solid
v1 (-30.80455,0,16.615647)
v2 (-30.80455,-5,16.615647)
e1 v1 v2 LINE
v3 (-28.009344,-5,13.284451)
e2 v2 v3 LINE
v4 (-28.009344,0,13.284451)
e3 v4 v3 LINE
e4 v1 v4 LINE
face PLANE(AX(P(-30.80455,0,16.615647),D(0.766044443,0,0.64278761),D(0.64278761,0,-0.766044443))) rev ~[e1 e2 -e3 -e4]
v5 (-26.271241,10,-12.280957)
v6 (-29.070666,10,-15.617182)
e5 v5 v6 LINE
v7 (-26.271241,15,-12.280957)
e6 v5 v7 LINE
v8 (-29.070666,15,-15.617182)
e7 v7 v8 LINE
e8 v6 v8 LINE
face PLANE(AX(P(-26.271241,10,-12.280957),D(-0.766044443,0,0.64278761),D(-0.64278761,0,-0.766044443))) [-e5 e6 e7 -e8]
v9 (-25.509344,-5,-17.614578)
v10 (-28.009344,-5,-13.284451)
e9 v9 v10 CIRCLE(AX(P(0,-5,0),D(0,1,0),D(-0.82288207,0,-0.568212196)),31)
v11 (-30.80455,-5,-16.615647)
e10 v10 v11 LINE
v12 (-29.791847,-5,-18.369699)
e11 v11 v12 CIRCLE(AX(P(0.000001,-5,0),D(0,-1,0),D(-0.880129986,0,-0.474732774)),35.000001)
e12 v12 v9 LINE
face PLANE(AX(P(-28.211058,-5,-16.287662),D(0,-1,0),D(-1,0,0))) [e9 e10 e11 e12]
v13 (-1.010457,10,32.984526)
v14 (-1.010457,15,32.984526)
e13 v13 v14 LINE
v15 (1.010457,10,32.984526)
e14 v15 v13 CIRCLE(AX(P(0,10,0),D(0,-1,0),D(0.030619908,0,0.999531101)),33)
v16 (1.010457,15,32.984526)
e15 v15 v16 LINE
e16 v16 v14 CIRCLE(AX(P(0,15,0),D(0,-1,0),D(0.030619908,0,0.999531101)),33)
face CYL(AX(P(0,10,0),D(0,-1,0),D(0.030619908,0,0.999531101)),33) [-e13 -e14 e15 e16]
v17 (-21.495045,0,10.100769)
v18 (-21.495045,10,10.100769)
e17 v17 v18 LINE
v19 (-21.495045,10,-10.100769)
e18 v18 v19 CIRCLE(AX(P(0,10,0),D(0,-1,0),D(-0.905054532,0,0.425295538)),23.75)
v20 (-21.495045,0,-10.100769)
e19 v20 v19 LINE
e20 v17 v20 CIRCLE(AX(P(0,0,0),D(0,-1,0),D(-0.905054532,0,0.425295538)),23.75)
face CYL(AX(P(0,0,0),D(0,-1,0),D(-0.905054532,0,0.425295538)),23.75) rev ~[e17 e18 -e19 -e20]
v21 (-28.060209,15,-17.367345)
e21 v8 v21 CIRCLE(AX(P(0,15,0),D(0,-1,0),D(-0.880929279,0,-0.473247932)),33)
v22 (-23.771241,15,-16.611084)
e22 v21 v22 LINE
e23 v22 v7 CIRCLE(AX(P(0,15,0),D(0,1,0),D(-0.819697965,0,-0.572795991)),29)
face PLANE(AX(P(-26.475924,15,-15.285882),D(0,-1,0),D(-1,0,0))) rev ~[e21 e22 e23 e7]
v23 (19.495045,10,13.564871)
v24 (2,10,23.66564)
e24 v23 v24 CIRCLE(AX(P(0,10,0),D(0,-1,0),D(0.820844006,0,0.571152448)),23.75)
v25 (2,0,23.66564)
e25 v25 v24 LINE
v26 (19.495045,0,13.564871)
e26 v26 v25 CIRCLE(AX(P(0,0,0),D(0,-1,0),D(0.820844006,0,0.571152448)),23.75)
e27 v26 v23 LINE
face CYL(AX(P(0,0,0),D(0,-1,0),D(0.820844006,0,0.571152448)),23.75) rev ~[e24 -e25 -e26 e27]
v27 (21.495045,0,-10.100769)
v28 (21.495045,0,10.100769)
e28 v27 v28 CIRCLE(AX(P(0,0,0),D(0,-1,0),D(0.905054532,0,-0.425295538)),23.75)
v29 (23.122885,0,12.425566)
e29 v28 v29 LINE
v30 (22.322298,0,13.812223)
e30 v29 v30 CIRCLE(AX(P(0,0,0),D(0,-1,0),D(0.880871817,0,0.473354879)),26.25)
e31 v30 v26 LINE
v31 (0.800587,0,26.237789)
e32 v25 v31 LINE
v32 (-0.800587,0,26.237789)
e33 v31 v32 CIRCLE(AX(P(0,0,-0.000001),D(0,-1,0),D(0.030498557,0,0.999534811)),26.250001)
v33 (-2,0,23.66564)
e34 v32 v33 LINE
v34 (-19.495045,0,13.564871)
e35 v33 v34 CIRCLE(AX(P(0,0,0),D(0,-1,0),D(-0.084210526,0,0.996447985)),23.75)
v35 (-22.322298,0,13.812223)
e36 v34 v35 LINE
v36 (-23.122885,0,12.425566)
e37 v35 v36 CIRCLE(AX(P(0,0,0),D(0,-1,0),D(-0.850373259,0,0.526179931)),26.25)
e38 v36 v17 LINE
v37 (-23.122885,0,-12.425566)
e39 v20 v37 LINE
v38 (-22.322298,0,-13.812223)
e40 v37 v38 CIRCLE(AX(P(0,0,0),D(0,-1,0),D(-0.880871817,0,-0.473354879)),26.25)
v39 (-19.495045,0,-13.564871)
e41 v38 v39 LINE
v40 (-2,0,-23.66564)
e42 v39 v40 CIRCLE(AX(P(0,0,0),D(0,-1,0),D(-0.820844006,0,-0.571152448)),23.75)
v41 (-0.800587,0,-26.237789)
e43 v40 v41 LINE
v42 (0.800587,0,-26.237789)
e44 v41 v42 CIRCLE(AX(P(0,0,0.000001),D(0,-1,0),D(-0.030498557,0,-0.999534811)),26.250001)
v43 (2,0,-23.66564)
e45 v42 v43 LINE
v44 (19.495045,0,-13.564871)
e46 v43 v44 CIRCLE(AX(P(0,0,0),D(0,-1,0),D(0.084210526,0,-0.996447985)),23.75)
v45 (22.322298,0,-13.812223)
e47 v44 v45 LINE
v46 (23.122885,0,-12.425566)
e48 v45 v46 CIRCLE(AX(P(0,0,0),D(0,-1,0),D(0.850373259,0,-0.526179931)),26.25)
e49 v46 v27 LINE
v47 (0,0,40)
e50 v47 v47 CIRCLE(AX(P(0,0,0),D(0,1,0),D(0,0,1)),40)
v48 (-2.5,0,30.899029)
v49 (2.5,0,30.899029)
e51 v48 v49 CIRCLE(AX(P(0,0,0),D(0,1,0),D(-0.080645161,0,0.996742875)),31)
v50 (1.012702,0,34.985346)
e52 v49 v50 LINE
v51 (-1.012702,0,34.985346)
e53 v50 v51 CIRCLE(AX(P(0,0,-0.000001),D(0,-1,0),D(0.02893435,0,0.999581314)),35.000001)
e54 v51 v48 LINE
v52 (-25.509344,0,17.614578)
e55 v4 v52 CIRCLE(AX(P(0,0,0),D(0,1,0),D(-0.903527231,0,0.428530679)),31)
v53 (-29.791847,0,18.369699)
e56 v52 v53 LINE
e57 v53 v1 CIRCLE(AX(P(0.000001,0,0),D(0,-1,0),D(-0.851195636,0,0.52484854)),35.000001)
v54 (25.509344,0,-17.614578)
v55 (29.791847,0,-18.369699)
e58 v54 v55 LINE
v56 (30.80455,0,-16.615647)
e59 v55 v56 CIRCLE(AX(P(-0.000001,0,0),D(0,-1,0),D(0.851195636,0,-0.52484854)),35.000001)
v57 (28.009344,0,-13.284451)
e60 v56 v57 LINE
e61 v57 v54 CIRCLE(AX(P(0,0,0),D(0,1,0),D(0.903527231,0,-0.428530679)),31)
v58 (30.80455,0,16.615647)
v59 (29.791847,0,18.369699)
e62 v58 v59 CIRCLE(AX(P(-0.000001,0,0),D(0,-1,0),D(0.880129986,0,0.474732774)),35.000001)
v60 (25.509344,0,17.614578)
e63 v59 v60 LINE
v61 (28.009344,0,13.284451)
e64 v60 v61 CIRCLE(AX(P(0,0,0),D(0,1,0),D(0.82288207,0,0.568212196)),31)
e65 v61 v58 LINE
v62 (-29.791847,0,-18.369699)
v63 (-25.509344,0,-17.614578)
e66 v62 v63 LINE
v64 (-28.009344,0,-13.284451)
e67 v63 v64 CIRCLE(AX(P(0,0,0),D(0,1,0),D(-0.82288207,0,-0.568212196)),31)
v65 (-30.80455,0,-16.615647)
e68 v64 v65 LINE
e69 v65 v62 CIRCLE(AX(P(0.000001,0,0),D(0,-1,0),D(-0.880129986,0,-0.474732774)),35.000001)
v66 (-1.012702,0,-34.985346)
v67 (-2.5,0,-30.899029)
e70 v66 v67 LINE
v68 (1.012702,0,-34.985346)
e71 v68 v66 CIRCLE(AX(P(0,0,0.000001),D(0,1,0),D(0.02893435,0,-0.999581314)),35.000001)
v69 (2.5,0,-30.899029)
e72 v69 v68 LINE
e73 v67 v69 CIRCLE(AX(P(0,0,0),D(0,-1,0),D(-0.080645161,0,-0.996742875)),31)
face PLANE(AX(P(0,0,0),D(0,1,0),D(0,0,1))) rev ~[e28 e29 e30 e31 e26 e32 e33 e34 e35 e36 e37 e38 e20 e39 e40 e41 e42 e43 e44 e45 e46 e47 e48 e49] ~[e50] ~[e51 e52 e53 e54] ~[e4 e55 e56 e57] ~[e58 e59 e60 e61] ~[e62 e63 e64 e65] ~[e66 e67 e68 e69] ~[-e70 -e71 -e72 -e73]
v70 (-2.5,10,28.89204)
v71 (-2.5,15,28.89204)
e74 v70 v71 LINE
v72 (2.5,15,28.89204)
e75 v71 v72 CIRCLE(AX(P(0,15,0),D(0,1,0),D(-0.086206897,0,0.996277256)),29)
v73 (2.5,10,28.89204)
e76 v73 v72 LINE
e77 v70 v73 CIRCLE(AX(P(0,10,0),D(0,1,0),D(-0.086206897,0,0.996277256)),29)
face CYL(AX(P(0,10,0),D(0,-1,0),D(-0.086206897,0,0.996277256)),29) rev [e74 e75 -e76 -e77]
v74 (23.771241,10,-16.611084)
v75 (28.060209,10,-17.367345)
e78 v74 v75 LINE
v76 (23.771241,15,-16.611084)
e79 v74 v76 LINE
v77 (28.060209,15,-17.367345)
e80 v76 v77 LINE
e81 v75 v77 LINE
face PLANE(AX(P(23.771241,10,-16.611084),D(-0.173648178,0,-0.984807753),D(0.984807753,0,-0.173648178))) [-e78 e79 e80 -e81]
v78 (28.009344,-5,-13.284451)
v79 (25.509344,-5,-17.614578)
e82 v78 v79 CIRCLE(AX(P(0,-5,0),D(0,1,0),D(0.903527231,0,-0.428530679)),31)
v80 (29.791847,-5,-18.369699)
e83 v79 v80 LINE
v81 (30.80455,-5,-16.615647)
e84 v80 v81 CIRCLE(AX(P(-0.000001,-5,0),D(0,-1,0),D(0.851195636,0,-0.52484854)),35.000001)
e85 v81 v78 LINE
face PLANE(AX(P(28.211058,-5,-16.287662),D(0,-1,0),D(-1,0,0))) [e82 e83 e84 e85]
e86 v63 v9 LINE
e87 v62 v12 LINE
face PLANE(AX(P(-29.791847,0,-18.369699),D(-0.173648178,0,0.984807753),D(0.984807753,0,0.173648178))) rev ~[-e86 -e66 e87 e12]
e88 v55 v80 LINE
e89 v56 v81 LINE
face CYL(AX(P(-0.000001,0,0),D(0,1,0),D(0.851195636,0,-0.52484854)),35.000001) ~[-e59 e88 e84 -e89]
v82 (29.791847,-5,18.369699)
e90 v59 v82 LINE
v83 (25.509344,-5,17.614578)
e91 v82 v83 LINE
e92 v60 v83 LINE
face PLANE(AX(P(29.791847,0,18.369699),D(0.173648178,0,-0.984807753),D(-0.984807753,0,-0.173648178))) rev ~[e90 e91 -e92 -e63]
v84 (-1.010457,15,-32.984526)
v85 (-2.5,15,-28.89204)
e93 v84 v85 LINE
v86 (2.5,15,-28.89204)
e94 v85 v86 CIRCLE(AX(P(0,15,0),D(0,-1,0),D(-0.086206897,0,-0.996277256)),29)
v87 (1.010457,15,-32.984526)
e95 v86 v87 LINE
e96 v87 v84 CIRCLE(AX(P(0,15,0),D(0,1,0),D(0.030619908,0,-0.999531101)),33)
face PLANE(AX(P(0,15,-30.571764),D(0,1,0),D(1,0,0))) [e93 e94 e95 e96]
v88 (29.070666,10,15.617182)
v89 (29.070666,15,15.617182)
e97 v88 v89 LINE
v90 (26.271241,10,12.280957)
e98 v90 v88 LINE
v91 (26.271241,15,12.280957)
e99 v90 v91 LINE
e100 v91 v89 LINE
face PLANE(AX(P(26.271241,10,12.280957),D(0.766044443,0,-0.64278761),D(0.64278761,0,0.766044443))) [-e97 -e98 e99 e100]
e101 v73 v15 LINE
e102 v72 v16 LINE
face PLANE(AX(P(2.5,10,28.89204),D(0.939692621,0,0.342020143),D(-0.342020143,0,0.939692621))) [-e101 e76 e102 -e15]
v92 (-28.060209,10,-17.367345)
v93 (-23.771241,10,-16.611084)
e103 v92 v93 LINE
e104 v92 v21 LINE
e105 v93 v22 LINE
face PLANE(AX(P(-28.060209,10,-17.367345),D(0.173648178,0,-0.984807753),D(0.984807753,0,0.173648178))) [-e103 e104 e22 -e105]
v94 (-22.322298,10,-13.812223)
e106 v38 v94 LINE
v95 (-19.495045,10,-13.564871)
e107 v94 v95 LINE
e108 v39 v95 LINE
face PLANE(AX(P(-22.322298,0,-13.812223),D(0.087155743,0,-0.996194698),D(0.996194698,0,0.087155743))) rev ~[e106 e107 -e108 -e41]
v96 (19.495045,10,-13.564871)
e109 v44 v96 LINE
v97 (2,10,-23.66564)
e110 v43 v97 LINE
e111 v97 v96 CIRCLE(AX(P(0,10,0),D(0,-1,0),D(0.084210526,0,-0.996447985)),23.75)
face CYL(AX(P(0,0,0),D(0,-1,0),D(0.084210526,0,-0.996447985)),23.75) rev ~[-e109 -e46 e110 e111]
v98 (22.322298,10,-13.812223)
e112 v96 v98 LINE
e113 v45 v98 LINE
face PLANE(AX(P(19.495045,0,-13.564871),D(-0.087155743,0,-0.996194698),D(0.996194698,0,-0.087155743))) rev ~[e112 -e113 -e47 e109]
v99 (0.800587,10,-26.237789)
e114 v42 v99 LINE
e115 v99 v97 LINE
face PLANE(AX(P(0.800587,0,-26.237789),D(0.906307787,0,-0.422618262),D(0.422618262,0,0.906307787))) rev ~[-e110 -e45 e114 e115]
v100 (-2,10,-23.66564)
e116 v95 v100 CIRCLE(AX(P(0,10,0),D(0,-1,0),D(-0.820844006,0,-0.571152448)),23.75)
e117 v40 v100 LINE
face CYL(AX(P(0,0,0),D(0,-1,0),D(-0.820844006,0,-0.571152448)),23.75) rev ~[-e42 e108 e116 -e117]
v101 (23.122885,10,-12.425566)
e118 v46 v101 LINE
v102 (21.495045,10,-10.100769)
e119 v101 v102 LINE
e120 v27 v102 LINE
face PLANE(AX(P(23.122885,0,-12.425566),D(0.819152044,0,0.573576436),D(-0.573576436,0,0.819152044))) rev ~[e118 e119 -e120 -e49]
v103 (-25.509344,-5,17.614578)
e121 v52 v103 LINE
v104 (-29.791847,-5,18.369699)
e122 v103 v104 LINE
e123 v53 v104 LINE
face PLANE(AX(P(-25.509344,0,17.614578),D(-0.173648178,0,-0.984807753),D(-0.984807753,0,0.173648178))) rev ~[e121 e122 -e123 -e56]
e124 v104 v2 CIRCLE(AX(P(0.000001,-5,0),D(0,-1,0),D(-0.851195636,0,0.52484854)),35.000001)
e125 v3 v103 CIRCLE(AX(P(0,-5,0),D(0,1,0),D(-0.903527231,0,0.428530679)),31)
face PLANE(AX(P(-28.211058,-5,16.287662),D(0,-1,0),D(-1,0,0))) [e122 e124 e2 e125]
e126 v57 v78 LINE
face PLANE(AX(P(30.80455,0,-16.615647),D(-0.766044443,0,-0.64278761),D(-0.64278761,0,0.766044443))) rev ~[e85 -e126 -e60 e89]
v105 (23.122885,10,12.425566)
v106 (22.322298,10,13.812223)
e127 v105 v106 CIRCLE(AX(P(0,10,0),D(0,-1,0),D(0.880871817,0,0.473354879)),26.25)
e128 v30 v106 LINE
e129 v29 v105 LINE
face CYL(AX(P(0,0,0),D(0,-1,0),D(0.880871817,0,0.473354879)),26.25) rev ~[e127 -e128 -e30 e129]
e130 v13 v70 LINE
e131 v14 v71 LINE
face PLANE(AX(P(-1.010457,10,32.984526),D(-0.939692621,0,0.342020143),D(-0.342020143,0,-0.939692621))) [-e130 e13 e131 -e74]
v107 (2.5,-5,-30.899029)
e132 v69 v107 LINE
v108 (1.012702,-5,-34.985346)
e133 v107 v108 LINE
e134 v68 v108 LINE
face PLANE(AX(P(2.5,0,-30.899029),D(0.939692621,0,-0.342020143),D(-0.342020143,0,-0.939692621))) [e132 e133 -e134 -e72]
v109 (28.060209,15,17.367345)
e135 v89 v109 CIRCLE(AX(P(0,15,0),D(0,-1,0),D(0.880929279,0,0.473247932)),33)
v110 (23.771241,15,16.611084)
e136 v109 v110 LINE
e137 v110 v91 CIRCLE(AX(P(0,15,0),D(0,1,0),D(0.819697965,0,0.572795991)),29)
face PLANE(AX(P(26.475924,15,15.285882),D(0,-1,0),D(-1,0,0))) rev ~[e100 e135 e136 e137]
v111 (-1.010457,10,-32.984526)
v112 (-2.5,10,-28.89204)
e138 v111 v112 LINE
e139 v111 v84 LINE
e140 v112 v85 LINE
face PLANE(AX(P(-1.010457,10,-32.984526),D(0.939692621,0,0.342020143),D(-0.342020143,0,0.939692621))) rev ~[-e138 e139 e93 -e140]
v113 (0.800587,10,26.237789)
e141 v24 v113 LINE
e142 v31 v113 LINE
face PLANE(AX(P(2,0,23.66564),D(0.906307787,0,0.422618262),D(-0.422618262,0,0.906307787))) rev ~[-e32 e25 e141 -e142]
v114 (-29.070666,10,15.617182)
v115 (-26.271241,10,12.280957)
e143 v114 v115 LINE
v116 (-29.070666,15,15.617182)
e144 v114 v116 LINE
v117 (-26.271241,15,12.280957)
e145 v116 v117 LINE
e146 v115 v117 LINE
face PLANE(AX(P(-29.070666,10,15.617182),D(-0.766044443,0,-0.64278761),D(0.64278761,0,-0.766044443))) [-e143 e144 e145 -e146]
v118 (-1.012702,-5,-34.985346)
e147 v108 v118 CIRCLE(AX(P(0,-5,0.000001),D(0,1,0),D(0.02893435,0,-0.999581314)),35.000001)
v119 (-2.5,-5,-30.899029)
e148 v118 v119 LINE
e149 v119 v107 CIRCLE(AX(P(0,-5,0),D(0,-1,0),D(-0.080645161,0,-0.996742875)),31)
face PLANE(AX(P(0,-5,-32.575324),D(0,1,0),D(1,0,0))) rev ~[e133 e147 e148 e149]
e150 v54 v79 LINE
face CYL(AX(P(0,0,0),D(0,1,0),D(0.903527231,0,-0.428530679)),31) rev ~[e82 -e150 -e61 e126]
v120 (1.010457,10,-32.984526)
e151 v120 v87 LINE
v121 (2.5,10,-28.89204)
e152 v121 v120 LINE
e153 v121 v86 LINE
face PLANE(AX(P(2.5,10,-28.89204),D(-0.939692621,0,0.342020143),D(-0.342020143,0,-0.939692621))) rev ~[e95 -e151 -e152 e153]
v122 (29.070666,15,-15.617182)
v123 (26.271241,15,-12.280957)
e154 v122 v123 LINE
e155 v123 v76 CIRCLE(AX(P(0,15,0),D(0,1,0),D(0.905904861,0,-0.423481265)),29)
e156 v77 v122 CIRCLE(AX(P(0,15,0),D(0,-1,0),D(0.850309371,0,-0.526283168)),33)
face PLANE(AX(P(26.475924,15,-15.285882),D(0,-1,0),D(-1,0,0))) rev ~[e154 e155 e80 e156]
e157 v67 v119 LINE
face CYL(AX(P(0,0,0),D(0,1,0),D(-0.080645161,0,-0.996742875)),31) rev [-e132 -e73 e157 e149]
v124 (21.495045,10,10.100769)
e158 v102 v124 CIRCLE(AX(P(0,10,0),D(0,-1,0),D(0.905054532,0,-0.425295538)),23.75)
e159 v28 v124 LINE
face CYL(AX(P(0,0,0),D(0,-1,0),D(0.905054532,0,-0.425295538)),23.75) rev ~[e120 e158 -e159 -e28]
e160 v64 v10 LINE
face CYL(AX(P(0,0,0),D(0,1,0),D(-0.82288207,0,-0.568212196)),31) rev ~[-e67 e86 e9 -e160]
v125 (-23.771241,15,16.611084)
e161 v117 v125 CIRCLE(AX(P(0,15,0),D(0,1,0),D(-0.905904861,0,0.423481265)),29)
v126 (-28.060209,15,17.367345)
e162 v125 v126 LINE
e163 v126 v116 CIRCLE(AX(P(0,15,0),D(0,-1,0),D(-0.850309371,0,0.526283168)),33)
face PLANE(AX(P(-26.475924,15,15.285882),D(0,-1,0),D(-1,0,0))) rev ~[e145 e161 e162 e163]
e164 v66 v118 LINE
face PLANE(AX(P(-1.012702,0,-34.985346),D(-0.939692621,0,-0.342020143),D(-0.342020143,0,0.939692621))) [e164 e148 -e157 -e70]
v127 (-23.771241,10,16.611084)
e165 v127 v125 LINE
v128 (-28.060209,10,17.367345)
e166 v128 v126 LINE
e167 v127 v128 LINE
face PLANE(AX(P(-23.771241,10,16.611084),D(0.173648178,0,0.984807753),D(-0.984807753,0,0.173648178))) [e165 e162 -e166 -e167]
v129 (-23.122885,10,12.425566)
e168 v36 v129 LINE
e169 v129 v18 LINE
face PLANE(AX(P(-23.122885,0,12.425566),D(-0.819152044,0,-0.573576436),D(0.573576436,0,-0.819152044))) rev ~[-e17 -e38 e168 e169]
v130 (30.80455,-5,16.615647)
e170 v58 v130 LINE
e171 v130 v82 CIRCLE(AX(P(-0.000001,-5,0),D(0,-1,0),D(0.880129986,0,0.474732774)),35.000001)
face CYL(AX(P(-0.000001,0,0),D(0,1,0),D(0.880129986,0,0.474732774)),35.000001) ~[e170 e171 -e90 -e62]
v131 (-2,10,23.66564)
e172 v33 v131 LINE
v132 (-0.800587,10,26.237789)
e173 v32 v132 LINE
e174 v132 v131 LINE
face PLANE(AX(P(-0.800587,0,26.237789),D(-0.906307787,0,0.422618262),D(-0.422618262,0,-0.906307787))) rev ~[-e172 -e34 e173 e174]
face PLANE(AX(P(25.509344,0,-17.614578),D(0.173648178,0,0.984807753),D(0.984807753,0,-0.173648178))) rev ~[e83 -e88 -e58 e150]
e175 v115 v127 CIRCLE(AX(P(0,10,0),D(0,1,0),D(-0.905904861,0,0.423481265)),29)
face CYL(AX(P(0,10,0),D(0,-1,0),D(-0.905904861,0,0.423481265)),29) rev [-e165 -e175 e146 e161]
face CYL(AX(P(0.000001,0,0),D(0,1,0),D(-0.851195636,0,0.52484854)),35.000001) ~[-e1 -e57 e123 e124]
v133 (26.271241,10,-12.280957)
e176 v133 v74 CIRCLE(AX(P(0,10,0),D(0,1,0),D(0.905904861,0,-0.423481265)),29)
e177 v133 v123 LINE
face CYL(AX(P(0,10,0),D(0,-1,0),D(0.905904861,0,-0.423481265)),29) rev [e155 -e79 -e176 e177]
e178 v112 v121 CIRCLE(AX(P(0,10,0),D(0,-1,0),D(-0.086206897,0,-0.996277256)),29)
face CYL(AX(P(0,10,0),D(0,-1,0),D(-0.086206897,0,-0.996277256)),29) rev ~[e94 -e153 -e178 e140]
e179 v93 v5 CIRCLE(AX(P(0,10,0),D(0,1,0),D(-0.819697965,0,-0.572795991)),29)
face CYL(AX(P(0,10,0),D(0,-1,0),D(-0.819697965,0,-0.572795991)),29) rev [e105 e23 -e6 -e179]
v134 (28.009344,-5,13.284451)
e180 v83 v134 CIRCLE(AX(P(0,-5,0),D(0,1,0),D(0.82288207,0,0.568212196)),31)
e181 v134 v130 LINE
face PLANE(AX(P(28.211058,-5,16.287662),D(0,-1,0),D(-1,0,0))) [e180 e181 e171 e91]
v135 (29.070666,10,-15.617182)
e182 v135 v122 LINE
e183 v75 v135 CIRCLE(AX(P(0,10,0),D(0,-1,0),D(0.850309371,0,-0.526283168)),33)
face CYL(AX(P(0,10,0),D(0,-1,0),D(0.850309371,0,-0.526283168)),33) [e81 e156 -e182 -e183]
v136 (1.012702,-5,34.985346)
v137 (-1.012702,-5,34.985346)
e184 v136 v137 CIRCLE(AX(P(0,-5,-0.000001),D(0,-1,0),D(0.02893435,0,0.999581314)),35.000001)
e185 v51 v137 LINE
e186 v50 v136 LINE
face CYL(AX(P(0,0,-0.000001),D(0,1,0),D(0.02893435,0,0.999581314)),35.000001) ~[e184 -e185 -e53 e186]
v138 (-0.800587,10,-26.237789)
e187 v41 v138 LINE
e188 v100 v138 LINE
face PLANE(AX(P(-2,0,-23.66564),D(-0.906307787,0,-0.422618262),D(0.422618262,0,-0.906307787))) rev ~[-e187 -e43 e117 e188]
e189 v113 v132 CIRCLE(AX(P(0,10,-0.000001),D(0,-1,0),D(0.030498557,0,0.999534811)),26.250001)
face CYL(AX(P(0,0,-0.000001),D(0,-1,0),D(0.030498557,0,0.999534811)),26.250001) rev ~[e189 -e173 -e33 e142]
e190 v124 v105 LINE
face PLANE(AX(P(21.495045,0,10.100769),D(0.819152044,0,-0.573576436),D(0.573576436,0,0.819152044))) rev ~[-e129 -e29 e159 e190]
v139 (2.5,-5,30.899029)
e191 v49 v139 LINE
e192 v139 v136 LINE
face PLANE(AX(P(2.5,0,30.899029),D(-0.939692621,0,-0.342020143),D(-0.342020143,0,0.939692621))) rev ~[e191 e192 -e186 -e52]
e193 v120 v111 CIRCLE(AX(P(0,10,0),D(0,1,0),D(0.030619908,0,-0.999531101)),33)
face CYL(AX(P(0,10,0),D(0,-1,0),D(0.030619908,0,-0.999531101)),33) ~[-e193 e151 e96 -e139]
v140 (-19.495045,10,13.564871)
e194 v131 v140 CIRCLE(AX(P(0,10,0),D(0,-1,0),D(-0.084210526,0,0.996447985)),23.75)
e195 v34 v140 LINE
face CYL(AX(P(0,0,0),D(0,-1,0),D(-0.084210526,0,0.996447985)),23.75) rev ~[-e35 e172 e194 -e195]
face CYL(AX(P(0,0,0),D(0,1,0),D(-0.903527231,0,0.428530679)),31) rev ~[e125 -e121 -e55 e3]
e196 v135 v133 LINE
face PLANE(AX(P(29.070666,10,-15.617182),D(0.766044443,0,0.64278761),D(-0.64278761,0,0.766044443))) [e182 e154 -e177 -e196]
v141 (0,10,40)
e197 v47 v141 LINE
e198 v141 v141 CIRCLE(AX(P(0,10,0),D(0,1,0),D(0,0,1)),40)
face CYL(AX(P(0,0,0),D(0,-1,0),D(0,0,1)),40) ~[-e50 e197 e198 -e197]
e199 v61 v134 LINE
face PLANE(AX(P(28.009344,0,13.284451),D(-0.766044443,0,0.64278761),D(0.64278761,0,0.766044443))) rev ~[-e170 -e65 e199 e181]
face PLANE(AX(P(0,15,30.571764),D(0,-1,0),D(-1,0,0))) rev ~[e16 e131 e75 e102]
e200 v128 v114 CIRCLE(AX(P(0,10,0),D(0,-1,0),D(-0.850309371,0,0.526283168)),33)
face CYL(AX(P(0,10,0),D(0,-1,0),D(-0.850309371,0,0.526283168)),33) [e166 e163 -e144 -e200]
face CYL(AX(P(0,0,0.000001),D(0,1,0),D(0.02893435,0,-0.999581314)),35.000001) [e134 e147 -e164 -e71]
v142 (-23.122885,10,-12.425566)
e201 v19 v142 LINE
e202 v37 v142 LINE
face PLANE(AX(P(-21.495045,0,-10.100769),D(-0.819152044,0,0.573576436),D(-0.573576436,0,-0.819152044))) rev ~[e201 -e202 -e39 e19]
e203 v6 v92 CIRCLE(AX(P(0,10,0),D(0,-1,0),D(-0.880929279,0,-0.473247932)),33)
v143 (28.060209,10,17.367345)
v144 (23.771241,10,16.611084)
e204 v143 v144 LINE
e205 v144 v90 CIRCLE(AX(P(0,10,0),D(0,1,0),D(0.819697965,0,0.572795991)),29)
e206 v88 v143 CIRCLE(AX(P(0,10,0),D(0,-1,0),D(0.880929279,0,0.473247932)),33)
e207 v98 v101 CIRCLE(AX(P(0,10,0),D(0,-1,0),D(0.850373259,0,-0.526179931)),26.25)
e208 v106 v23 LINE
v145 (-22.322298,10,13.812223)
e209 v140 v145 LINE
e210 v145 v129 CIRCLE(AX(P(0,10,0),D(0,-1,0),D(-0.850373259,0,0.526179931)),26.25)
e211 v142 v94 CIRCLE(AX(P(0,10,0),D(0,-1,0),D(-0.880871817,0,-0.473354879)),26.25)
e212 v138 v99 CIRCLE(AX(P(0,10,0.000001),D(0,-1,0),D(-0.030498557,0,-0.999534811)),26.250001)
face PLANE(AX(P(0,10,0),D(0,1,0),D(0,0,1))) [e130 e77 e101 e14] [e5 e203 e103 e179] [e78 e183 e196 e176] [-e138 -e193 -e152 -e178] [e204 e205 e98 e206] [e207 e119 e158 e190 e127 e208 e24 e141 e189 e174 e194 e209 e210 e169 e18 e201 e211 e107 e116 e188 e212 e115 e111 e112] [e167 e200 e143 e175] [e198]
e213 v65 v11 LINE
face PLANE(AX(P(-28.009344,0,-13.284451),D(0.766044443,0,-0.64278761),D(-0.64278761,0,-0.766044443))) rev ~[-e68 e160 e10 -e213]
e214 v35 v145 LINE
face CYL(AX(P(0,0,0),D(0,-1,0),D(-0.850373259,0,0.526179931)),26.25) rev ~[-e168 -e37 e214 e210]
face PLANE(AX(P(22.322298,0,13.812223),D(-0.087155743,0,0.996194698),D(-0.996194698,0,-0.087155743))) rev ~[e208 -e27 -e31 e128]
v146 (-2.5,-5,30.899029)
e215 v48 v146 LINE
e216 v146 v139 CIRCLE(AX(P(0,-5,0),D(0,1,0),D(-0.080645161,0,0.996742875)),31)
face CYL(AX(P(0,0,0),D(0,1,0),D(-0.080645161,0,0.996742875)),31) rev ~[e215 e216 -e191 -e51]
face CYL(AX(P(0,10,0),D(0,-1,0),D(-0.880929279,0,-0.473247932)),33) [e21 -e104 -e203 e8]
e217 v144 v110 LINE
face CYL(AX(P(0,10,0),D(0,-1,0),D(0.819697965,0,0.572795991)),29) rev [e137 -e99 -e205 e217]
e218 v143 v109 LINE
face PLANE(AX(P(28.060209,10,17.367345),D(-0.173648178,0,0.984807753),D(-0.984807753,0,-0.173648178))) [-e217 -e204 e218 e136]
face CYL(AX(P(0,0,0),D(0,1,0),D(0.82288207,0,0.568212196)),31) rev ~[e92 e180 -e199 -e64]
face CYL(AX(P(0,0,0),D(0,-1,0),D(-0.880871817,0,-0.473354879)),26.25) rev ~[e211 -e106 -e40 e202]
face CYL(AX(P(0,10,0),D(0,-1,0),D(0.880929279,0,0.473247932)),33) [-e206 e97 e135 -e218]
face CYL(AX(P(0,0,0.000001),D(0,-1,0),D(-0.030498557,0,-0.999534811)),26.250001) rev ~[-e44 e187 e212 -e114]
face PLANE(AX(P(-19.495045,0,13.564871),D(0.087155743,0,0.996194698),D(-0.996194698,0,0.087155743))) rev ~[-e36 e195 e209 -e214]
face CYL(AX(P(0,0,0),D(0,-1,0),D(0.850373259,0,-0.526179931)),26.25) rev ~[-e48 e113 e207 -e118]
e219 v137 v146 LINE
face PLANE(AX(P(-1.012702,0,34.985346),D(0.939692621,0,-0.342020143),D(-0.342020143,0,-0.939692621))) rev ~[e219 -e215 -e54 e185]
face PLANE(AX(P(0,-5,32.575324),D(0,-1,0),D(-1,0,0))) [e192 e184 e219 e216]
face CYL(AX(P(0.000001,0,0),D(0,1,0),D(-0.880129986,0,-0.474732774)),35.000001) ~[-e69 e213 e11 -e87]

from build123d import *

# Parameters (mm, degrees)
SKETCH1_R           = 40
BOSS_EXTRUDE1_DEPTH = 10
BOSS_EXTRUDE2_DEPTH = 5
BOSS_EXTRUDE4_START = -10
BOSS_EXTRUDE4_DEPTH = 5


with BuildPart() as part:
    # Sketch1 → Boss-Extrude1 (new body)
    with BuildSketch(Plane(origin=(0, 0, 0), x_dir=(1, 0, 0), z_dir=(0, 1, 0))):
        with Locations(Location((0, 0, 0), (0, 0, 270))):
            Circle(SKETCH1_R)
        with BuildLine():
            Line((-2, 23.665639649), (-0.800587161, 26.237788783))
            ThreePointArc((-0.800587161, 26.237788783), (0, 26.25), (0.800587161, 26.237788783))
            Line((0.800587161, 26.237788783), (2, 23.665639649))
            ThreePointArc((2, 23.665639649), (11.875, 20.56810334), (19.495045133, 13.564870632))
            Line((19.495045133, 13.564870632), (22.322298044, 13.812223211))
            ThreePointArc((22.322298044, 13.812223211), (22.733166849, 13.125), (23.122885205, 12.425565572))
            Line((23.122885205, 12.425565572), (21.495045133, 10.100769017))
            ThreePointArc((21.495045133, 10.100769017), (23.75, 0), (21.495045133, -10.100769017))
            Line((21.495045133, -10.100769017), (23.122885205, -12.425565572))
            ThreePointArc((23.122885205, -12.425565572), (22.733166849, -13.125), (22.322298044, -13.812223211))
            Line((22.322298044, -13.812223211), (19.495045133, -13.564870632))
            ThreePointArc((19.495045133, -13.564870632), (11.875, -20.56810334), (2, -23.665639649))
            Line((2, -23.665639649), (0.800587161, -26.237788783))
            ThreePointArc((0.800587161, -26.237788783), (0, -26.25), (-0.800587161, -26.237788783))
            Line((-0.800587161, -26.237788783), (-2, -23.665639649))
            ThreePointArc((-2, -23.665639649), (-11.875, -20.56810334), (-19.495045133, -13.564870632))
            Line((-19.495045133, -13.564870632), (-22.322298044, -13.812223211))
            ThreePointArc((-22.322298044, -13.812223211), (-22.733166849, -13.125), (-23.122885205, -12.425565572))
            Line((-23.122885205, -12.425565572), (-21.495045133, -10.100769017))
            ThreePointArc((-21.495045133, -10.100769017), (-23.75, 0), (-21.495045133, 10.100769017))
            Line((-21.495045133, 10.100769017), (-23.122885205, 12.425565572))
            ThreePointArc((-23.122885205, 12.425565572), (-22.733166849, 13.125), (-22.322298044, 13.812223211))
            Line((-22.322298044, 13.812223211), (-19.495045133, 13.564870632))
            ThreePointArc((-19.495045133, 13.564870632), (-11.875, 20.56810334), (-2, 23.665639649))
        make_face(mode=Mode.SUBTRACT)
    extrude(amount=BOSS_EXTRUDE1_DEPTH)

    # 4,5,6 → Boss-Extrude2 (add)
    with BuildSketch(Plane(origin=(0, 10, 0), x_dir=(1, 0, 0), z_dir=(0, 1, 0))):
        with BuildLine():
            Line((2.5, 28.892040426), (1.010456949, 32.984526323))
            ThreePointArc((1.010456949, 32.984526323), (0, 33), (-1.010456949, 32.984526323))
            Line((-1.010456949, 32.984526323), (-2.5, 28.892040426))
            ThreePointArc((-2.5, 28.892040426), (0, 29), (2.5, 28.892040426))
        make_face()
        with BuildLine():
            Line((23.771240976, 16.611083723), (28.060209253, 17.367344549))
            ThreePointArc((28.060209253, 17.367344549), (28.578838325, 16.5), (29.070666202, 15.617181774))
            Line((29.070666202, 15.617181774), (26.271240976, 12.280956704))
            ThreePointArc((26.271240976, 12.280956704), (25.11473671, 14.5), (23.771240976, 16.611083723))
        make_face()
        with BuildLine():
            Line((26.271240976, -12.280956704), (29.070666202, -15.617181774))
            ThreePointArc((29.070666202, -15.617181774), (28.578838325, -16.5), (28.060209253, -17.367344549))
            Line((28.060209253, -17.367344549), (23.771240976, -16.611083723))
            ThreePointArc((23.771240976, -16.611083723), (25.11473671, -14.5), (26.271240976, -12.280956704))
        make_face()
        with BuildLine():
            Line((2.5, -28.892040426), (1.010456949, -32.984526323))
            ThreePointArc((1.010456949, -32.984526323), (0, -33), (-1.010456949, -32.984526323))
            Line((-1.010456949, -32.984526323), (-2.5, -28.892040426))
            ThreePointArc((-2.5, -28.892040426), (0, -29), (2.5, -28.892040426))
        make_face()
        with BuildLine():
            Line((-23.771240976, -16.611083723), (-28.060209253, -17.367344549))
            ThreePointArc((-28.060209253, -17.367344549), (-28.578838325, -16.5), (-29.070666202, -15.617181774))
            Line((-29.070666202, -15.617181774), (-26.271240976, -12.280956704))
            ThreePointArc((-26.271240976, -12.280956704), (-25.11473671, -14.5), (-23.771240976, -16.611083723))
        make_face()
        with BuildLine():
            Line((-26.271240976, 12.280956704), (-29.070666202, 15.617181774))
            ThreePointArc((-29.070666202, 15.617181774), (-28.578838325, 16.5), (-28.060209253, 17.367344549))
            Line((-28.060209253, 17.367344549), (-23.771240976, 16.611083723))
            ThreePointArc((-23.771240976, 16.611083723), (-25.11473671, 14.5), (-26.271240976, 12.280956704))
        make_face()
    extrude(amount=BOSS_EXTRUDE2_DEPTH)

    # 1,2,3 → Boss-Extrude4 (add)
    with BuildSketch(Plane(origin=(0, 10, 0), x_dir=(1, 0, 0), z_dir=(0, 1, 0)).offset(BOSS_EXTRUDE4_START)):
        with BuildLine():
            Line((2.5, 30.899029111), (1.012702288, 34.985345991))
            ThreePointArc((1.012702288, 34.985345991), (0, 35), (-1.012702288, 34.985345991))
            Line((-1.012702288, 34.985345991), (-2.5, 30.899029111))
            ThreePointArc((-2.5, 30.899029111), (0, 31), (2.5, 30.899029111))
        make_face()
        with BuildLine():
            Line((25.509344162, 17.614578065), (29.791847244, 18.369698903))
            ThreePointArc((29.791847244, 18.369698903), (30.310889132, 17.5), (30.804549532, 16.615647087))
            Line((30.804549532, 16.615647087), (28.009344162, 13.284451046))
            ThreePointArc((28.009344162, 13.284451046), (26.846787517, 15.5), (25.509344162, 17.614578065))
        make_face()
        with BuildLine():
            Line((28.009344162, -13.284451046), (30.804549532, -16.615647087))
            ThreePointArc((30.804549532, -16.615647087), (30.310889132, -17.5), (29.791847244, -18.369698903))
            Line((29.791847244, -18.369698903), (25.509344162, -17.614578065))
            ThreePointArc((25.509344162, -17.614578065), (26.846787517, -15.5), (28.009344162, -13.284451046))
        make_face()
        with BuildLine():
            Line((2.5, -30.899029111), (1.012702288, -34.985345991))
            ThreePointArc((1.012702288, -34.985345991), (0, -35), (-1.012702288, -34.985345991))
            Line((-1.012702288, -34.985345991), (-2.5, -30.899029111))
            ThreePointArc((-2.5, -30.899029111), (0, -31), (2.5, -30.899029111))
        make_face()
        with BuildLine():
            Line((-25.509344162, -17.614578065), (-29.791847244, -18.369698903))
            ThreePointArc((-29.791847244, -18.369698903), (-30.310889132, -17.5), (-30.804549532, -16.615647087))
            Line((-30.804549532, -16.615647087), (-28.009344162, -13.284451046))
            ThreePointArc((-28.009344162, -13.284451046), (-26.846787517, -15.5), (-25.509344162, -17.614578065))
        make_face()
        with BuildLine():
            Line((-28.009344162, 13.284451046), (-30.804549532, 16.615647087))
            ThreePointArc((-30.804549532, 16.615647087), (-30.310889132, 17.5), (-29.791847244, 18.369698903))
            Line((-29.791847244, 18.369698903), (-25.509344162, 17.614578065))
            ThreePointArc((-25.509344162, 17.614578065), (-26.846787517, 15.5), (-28.009344162, 13.284451046))
        make_face()
    extrude(amount=-BOSS_EXTRUDE4_DEPTH)


solid = part.part
